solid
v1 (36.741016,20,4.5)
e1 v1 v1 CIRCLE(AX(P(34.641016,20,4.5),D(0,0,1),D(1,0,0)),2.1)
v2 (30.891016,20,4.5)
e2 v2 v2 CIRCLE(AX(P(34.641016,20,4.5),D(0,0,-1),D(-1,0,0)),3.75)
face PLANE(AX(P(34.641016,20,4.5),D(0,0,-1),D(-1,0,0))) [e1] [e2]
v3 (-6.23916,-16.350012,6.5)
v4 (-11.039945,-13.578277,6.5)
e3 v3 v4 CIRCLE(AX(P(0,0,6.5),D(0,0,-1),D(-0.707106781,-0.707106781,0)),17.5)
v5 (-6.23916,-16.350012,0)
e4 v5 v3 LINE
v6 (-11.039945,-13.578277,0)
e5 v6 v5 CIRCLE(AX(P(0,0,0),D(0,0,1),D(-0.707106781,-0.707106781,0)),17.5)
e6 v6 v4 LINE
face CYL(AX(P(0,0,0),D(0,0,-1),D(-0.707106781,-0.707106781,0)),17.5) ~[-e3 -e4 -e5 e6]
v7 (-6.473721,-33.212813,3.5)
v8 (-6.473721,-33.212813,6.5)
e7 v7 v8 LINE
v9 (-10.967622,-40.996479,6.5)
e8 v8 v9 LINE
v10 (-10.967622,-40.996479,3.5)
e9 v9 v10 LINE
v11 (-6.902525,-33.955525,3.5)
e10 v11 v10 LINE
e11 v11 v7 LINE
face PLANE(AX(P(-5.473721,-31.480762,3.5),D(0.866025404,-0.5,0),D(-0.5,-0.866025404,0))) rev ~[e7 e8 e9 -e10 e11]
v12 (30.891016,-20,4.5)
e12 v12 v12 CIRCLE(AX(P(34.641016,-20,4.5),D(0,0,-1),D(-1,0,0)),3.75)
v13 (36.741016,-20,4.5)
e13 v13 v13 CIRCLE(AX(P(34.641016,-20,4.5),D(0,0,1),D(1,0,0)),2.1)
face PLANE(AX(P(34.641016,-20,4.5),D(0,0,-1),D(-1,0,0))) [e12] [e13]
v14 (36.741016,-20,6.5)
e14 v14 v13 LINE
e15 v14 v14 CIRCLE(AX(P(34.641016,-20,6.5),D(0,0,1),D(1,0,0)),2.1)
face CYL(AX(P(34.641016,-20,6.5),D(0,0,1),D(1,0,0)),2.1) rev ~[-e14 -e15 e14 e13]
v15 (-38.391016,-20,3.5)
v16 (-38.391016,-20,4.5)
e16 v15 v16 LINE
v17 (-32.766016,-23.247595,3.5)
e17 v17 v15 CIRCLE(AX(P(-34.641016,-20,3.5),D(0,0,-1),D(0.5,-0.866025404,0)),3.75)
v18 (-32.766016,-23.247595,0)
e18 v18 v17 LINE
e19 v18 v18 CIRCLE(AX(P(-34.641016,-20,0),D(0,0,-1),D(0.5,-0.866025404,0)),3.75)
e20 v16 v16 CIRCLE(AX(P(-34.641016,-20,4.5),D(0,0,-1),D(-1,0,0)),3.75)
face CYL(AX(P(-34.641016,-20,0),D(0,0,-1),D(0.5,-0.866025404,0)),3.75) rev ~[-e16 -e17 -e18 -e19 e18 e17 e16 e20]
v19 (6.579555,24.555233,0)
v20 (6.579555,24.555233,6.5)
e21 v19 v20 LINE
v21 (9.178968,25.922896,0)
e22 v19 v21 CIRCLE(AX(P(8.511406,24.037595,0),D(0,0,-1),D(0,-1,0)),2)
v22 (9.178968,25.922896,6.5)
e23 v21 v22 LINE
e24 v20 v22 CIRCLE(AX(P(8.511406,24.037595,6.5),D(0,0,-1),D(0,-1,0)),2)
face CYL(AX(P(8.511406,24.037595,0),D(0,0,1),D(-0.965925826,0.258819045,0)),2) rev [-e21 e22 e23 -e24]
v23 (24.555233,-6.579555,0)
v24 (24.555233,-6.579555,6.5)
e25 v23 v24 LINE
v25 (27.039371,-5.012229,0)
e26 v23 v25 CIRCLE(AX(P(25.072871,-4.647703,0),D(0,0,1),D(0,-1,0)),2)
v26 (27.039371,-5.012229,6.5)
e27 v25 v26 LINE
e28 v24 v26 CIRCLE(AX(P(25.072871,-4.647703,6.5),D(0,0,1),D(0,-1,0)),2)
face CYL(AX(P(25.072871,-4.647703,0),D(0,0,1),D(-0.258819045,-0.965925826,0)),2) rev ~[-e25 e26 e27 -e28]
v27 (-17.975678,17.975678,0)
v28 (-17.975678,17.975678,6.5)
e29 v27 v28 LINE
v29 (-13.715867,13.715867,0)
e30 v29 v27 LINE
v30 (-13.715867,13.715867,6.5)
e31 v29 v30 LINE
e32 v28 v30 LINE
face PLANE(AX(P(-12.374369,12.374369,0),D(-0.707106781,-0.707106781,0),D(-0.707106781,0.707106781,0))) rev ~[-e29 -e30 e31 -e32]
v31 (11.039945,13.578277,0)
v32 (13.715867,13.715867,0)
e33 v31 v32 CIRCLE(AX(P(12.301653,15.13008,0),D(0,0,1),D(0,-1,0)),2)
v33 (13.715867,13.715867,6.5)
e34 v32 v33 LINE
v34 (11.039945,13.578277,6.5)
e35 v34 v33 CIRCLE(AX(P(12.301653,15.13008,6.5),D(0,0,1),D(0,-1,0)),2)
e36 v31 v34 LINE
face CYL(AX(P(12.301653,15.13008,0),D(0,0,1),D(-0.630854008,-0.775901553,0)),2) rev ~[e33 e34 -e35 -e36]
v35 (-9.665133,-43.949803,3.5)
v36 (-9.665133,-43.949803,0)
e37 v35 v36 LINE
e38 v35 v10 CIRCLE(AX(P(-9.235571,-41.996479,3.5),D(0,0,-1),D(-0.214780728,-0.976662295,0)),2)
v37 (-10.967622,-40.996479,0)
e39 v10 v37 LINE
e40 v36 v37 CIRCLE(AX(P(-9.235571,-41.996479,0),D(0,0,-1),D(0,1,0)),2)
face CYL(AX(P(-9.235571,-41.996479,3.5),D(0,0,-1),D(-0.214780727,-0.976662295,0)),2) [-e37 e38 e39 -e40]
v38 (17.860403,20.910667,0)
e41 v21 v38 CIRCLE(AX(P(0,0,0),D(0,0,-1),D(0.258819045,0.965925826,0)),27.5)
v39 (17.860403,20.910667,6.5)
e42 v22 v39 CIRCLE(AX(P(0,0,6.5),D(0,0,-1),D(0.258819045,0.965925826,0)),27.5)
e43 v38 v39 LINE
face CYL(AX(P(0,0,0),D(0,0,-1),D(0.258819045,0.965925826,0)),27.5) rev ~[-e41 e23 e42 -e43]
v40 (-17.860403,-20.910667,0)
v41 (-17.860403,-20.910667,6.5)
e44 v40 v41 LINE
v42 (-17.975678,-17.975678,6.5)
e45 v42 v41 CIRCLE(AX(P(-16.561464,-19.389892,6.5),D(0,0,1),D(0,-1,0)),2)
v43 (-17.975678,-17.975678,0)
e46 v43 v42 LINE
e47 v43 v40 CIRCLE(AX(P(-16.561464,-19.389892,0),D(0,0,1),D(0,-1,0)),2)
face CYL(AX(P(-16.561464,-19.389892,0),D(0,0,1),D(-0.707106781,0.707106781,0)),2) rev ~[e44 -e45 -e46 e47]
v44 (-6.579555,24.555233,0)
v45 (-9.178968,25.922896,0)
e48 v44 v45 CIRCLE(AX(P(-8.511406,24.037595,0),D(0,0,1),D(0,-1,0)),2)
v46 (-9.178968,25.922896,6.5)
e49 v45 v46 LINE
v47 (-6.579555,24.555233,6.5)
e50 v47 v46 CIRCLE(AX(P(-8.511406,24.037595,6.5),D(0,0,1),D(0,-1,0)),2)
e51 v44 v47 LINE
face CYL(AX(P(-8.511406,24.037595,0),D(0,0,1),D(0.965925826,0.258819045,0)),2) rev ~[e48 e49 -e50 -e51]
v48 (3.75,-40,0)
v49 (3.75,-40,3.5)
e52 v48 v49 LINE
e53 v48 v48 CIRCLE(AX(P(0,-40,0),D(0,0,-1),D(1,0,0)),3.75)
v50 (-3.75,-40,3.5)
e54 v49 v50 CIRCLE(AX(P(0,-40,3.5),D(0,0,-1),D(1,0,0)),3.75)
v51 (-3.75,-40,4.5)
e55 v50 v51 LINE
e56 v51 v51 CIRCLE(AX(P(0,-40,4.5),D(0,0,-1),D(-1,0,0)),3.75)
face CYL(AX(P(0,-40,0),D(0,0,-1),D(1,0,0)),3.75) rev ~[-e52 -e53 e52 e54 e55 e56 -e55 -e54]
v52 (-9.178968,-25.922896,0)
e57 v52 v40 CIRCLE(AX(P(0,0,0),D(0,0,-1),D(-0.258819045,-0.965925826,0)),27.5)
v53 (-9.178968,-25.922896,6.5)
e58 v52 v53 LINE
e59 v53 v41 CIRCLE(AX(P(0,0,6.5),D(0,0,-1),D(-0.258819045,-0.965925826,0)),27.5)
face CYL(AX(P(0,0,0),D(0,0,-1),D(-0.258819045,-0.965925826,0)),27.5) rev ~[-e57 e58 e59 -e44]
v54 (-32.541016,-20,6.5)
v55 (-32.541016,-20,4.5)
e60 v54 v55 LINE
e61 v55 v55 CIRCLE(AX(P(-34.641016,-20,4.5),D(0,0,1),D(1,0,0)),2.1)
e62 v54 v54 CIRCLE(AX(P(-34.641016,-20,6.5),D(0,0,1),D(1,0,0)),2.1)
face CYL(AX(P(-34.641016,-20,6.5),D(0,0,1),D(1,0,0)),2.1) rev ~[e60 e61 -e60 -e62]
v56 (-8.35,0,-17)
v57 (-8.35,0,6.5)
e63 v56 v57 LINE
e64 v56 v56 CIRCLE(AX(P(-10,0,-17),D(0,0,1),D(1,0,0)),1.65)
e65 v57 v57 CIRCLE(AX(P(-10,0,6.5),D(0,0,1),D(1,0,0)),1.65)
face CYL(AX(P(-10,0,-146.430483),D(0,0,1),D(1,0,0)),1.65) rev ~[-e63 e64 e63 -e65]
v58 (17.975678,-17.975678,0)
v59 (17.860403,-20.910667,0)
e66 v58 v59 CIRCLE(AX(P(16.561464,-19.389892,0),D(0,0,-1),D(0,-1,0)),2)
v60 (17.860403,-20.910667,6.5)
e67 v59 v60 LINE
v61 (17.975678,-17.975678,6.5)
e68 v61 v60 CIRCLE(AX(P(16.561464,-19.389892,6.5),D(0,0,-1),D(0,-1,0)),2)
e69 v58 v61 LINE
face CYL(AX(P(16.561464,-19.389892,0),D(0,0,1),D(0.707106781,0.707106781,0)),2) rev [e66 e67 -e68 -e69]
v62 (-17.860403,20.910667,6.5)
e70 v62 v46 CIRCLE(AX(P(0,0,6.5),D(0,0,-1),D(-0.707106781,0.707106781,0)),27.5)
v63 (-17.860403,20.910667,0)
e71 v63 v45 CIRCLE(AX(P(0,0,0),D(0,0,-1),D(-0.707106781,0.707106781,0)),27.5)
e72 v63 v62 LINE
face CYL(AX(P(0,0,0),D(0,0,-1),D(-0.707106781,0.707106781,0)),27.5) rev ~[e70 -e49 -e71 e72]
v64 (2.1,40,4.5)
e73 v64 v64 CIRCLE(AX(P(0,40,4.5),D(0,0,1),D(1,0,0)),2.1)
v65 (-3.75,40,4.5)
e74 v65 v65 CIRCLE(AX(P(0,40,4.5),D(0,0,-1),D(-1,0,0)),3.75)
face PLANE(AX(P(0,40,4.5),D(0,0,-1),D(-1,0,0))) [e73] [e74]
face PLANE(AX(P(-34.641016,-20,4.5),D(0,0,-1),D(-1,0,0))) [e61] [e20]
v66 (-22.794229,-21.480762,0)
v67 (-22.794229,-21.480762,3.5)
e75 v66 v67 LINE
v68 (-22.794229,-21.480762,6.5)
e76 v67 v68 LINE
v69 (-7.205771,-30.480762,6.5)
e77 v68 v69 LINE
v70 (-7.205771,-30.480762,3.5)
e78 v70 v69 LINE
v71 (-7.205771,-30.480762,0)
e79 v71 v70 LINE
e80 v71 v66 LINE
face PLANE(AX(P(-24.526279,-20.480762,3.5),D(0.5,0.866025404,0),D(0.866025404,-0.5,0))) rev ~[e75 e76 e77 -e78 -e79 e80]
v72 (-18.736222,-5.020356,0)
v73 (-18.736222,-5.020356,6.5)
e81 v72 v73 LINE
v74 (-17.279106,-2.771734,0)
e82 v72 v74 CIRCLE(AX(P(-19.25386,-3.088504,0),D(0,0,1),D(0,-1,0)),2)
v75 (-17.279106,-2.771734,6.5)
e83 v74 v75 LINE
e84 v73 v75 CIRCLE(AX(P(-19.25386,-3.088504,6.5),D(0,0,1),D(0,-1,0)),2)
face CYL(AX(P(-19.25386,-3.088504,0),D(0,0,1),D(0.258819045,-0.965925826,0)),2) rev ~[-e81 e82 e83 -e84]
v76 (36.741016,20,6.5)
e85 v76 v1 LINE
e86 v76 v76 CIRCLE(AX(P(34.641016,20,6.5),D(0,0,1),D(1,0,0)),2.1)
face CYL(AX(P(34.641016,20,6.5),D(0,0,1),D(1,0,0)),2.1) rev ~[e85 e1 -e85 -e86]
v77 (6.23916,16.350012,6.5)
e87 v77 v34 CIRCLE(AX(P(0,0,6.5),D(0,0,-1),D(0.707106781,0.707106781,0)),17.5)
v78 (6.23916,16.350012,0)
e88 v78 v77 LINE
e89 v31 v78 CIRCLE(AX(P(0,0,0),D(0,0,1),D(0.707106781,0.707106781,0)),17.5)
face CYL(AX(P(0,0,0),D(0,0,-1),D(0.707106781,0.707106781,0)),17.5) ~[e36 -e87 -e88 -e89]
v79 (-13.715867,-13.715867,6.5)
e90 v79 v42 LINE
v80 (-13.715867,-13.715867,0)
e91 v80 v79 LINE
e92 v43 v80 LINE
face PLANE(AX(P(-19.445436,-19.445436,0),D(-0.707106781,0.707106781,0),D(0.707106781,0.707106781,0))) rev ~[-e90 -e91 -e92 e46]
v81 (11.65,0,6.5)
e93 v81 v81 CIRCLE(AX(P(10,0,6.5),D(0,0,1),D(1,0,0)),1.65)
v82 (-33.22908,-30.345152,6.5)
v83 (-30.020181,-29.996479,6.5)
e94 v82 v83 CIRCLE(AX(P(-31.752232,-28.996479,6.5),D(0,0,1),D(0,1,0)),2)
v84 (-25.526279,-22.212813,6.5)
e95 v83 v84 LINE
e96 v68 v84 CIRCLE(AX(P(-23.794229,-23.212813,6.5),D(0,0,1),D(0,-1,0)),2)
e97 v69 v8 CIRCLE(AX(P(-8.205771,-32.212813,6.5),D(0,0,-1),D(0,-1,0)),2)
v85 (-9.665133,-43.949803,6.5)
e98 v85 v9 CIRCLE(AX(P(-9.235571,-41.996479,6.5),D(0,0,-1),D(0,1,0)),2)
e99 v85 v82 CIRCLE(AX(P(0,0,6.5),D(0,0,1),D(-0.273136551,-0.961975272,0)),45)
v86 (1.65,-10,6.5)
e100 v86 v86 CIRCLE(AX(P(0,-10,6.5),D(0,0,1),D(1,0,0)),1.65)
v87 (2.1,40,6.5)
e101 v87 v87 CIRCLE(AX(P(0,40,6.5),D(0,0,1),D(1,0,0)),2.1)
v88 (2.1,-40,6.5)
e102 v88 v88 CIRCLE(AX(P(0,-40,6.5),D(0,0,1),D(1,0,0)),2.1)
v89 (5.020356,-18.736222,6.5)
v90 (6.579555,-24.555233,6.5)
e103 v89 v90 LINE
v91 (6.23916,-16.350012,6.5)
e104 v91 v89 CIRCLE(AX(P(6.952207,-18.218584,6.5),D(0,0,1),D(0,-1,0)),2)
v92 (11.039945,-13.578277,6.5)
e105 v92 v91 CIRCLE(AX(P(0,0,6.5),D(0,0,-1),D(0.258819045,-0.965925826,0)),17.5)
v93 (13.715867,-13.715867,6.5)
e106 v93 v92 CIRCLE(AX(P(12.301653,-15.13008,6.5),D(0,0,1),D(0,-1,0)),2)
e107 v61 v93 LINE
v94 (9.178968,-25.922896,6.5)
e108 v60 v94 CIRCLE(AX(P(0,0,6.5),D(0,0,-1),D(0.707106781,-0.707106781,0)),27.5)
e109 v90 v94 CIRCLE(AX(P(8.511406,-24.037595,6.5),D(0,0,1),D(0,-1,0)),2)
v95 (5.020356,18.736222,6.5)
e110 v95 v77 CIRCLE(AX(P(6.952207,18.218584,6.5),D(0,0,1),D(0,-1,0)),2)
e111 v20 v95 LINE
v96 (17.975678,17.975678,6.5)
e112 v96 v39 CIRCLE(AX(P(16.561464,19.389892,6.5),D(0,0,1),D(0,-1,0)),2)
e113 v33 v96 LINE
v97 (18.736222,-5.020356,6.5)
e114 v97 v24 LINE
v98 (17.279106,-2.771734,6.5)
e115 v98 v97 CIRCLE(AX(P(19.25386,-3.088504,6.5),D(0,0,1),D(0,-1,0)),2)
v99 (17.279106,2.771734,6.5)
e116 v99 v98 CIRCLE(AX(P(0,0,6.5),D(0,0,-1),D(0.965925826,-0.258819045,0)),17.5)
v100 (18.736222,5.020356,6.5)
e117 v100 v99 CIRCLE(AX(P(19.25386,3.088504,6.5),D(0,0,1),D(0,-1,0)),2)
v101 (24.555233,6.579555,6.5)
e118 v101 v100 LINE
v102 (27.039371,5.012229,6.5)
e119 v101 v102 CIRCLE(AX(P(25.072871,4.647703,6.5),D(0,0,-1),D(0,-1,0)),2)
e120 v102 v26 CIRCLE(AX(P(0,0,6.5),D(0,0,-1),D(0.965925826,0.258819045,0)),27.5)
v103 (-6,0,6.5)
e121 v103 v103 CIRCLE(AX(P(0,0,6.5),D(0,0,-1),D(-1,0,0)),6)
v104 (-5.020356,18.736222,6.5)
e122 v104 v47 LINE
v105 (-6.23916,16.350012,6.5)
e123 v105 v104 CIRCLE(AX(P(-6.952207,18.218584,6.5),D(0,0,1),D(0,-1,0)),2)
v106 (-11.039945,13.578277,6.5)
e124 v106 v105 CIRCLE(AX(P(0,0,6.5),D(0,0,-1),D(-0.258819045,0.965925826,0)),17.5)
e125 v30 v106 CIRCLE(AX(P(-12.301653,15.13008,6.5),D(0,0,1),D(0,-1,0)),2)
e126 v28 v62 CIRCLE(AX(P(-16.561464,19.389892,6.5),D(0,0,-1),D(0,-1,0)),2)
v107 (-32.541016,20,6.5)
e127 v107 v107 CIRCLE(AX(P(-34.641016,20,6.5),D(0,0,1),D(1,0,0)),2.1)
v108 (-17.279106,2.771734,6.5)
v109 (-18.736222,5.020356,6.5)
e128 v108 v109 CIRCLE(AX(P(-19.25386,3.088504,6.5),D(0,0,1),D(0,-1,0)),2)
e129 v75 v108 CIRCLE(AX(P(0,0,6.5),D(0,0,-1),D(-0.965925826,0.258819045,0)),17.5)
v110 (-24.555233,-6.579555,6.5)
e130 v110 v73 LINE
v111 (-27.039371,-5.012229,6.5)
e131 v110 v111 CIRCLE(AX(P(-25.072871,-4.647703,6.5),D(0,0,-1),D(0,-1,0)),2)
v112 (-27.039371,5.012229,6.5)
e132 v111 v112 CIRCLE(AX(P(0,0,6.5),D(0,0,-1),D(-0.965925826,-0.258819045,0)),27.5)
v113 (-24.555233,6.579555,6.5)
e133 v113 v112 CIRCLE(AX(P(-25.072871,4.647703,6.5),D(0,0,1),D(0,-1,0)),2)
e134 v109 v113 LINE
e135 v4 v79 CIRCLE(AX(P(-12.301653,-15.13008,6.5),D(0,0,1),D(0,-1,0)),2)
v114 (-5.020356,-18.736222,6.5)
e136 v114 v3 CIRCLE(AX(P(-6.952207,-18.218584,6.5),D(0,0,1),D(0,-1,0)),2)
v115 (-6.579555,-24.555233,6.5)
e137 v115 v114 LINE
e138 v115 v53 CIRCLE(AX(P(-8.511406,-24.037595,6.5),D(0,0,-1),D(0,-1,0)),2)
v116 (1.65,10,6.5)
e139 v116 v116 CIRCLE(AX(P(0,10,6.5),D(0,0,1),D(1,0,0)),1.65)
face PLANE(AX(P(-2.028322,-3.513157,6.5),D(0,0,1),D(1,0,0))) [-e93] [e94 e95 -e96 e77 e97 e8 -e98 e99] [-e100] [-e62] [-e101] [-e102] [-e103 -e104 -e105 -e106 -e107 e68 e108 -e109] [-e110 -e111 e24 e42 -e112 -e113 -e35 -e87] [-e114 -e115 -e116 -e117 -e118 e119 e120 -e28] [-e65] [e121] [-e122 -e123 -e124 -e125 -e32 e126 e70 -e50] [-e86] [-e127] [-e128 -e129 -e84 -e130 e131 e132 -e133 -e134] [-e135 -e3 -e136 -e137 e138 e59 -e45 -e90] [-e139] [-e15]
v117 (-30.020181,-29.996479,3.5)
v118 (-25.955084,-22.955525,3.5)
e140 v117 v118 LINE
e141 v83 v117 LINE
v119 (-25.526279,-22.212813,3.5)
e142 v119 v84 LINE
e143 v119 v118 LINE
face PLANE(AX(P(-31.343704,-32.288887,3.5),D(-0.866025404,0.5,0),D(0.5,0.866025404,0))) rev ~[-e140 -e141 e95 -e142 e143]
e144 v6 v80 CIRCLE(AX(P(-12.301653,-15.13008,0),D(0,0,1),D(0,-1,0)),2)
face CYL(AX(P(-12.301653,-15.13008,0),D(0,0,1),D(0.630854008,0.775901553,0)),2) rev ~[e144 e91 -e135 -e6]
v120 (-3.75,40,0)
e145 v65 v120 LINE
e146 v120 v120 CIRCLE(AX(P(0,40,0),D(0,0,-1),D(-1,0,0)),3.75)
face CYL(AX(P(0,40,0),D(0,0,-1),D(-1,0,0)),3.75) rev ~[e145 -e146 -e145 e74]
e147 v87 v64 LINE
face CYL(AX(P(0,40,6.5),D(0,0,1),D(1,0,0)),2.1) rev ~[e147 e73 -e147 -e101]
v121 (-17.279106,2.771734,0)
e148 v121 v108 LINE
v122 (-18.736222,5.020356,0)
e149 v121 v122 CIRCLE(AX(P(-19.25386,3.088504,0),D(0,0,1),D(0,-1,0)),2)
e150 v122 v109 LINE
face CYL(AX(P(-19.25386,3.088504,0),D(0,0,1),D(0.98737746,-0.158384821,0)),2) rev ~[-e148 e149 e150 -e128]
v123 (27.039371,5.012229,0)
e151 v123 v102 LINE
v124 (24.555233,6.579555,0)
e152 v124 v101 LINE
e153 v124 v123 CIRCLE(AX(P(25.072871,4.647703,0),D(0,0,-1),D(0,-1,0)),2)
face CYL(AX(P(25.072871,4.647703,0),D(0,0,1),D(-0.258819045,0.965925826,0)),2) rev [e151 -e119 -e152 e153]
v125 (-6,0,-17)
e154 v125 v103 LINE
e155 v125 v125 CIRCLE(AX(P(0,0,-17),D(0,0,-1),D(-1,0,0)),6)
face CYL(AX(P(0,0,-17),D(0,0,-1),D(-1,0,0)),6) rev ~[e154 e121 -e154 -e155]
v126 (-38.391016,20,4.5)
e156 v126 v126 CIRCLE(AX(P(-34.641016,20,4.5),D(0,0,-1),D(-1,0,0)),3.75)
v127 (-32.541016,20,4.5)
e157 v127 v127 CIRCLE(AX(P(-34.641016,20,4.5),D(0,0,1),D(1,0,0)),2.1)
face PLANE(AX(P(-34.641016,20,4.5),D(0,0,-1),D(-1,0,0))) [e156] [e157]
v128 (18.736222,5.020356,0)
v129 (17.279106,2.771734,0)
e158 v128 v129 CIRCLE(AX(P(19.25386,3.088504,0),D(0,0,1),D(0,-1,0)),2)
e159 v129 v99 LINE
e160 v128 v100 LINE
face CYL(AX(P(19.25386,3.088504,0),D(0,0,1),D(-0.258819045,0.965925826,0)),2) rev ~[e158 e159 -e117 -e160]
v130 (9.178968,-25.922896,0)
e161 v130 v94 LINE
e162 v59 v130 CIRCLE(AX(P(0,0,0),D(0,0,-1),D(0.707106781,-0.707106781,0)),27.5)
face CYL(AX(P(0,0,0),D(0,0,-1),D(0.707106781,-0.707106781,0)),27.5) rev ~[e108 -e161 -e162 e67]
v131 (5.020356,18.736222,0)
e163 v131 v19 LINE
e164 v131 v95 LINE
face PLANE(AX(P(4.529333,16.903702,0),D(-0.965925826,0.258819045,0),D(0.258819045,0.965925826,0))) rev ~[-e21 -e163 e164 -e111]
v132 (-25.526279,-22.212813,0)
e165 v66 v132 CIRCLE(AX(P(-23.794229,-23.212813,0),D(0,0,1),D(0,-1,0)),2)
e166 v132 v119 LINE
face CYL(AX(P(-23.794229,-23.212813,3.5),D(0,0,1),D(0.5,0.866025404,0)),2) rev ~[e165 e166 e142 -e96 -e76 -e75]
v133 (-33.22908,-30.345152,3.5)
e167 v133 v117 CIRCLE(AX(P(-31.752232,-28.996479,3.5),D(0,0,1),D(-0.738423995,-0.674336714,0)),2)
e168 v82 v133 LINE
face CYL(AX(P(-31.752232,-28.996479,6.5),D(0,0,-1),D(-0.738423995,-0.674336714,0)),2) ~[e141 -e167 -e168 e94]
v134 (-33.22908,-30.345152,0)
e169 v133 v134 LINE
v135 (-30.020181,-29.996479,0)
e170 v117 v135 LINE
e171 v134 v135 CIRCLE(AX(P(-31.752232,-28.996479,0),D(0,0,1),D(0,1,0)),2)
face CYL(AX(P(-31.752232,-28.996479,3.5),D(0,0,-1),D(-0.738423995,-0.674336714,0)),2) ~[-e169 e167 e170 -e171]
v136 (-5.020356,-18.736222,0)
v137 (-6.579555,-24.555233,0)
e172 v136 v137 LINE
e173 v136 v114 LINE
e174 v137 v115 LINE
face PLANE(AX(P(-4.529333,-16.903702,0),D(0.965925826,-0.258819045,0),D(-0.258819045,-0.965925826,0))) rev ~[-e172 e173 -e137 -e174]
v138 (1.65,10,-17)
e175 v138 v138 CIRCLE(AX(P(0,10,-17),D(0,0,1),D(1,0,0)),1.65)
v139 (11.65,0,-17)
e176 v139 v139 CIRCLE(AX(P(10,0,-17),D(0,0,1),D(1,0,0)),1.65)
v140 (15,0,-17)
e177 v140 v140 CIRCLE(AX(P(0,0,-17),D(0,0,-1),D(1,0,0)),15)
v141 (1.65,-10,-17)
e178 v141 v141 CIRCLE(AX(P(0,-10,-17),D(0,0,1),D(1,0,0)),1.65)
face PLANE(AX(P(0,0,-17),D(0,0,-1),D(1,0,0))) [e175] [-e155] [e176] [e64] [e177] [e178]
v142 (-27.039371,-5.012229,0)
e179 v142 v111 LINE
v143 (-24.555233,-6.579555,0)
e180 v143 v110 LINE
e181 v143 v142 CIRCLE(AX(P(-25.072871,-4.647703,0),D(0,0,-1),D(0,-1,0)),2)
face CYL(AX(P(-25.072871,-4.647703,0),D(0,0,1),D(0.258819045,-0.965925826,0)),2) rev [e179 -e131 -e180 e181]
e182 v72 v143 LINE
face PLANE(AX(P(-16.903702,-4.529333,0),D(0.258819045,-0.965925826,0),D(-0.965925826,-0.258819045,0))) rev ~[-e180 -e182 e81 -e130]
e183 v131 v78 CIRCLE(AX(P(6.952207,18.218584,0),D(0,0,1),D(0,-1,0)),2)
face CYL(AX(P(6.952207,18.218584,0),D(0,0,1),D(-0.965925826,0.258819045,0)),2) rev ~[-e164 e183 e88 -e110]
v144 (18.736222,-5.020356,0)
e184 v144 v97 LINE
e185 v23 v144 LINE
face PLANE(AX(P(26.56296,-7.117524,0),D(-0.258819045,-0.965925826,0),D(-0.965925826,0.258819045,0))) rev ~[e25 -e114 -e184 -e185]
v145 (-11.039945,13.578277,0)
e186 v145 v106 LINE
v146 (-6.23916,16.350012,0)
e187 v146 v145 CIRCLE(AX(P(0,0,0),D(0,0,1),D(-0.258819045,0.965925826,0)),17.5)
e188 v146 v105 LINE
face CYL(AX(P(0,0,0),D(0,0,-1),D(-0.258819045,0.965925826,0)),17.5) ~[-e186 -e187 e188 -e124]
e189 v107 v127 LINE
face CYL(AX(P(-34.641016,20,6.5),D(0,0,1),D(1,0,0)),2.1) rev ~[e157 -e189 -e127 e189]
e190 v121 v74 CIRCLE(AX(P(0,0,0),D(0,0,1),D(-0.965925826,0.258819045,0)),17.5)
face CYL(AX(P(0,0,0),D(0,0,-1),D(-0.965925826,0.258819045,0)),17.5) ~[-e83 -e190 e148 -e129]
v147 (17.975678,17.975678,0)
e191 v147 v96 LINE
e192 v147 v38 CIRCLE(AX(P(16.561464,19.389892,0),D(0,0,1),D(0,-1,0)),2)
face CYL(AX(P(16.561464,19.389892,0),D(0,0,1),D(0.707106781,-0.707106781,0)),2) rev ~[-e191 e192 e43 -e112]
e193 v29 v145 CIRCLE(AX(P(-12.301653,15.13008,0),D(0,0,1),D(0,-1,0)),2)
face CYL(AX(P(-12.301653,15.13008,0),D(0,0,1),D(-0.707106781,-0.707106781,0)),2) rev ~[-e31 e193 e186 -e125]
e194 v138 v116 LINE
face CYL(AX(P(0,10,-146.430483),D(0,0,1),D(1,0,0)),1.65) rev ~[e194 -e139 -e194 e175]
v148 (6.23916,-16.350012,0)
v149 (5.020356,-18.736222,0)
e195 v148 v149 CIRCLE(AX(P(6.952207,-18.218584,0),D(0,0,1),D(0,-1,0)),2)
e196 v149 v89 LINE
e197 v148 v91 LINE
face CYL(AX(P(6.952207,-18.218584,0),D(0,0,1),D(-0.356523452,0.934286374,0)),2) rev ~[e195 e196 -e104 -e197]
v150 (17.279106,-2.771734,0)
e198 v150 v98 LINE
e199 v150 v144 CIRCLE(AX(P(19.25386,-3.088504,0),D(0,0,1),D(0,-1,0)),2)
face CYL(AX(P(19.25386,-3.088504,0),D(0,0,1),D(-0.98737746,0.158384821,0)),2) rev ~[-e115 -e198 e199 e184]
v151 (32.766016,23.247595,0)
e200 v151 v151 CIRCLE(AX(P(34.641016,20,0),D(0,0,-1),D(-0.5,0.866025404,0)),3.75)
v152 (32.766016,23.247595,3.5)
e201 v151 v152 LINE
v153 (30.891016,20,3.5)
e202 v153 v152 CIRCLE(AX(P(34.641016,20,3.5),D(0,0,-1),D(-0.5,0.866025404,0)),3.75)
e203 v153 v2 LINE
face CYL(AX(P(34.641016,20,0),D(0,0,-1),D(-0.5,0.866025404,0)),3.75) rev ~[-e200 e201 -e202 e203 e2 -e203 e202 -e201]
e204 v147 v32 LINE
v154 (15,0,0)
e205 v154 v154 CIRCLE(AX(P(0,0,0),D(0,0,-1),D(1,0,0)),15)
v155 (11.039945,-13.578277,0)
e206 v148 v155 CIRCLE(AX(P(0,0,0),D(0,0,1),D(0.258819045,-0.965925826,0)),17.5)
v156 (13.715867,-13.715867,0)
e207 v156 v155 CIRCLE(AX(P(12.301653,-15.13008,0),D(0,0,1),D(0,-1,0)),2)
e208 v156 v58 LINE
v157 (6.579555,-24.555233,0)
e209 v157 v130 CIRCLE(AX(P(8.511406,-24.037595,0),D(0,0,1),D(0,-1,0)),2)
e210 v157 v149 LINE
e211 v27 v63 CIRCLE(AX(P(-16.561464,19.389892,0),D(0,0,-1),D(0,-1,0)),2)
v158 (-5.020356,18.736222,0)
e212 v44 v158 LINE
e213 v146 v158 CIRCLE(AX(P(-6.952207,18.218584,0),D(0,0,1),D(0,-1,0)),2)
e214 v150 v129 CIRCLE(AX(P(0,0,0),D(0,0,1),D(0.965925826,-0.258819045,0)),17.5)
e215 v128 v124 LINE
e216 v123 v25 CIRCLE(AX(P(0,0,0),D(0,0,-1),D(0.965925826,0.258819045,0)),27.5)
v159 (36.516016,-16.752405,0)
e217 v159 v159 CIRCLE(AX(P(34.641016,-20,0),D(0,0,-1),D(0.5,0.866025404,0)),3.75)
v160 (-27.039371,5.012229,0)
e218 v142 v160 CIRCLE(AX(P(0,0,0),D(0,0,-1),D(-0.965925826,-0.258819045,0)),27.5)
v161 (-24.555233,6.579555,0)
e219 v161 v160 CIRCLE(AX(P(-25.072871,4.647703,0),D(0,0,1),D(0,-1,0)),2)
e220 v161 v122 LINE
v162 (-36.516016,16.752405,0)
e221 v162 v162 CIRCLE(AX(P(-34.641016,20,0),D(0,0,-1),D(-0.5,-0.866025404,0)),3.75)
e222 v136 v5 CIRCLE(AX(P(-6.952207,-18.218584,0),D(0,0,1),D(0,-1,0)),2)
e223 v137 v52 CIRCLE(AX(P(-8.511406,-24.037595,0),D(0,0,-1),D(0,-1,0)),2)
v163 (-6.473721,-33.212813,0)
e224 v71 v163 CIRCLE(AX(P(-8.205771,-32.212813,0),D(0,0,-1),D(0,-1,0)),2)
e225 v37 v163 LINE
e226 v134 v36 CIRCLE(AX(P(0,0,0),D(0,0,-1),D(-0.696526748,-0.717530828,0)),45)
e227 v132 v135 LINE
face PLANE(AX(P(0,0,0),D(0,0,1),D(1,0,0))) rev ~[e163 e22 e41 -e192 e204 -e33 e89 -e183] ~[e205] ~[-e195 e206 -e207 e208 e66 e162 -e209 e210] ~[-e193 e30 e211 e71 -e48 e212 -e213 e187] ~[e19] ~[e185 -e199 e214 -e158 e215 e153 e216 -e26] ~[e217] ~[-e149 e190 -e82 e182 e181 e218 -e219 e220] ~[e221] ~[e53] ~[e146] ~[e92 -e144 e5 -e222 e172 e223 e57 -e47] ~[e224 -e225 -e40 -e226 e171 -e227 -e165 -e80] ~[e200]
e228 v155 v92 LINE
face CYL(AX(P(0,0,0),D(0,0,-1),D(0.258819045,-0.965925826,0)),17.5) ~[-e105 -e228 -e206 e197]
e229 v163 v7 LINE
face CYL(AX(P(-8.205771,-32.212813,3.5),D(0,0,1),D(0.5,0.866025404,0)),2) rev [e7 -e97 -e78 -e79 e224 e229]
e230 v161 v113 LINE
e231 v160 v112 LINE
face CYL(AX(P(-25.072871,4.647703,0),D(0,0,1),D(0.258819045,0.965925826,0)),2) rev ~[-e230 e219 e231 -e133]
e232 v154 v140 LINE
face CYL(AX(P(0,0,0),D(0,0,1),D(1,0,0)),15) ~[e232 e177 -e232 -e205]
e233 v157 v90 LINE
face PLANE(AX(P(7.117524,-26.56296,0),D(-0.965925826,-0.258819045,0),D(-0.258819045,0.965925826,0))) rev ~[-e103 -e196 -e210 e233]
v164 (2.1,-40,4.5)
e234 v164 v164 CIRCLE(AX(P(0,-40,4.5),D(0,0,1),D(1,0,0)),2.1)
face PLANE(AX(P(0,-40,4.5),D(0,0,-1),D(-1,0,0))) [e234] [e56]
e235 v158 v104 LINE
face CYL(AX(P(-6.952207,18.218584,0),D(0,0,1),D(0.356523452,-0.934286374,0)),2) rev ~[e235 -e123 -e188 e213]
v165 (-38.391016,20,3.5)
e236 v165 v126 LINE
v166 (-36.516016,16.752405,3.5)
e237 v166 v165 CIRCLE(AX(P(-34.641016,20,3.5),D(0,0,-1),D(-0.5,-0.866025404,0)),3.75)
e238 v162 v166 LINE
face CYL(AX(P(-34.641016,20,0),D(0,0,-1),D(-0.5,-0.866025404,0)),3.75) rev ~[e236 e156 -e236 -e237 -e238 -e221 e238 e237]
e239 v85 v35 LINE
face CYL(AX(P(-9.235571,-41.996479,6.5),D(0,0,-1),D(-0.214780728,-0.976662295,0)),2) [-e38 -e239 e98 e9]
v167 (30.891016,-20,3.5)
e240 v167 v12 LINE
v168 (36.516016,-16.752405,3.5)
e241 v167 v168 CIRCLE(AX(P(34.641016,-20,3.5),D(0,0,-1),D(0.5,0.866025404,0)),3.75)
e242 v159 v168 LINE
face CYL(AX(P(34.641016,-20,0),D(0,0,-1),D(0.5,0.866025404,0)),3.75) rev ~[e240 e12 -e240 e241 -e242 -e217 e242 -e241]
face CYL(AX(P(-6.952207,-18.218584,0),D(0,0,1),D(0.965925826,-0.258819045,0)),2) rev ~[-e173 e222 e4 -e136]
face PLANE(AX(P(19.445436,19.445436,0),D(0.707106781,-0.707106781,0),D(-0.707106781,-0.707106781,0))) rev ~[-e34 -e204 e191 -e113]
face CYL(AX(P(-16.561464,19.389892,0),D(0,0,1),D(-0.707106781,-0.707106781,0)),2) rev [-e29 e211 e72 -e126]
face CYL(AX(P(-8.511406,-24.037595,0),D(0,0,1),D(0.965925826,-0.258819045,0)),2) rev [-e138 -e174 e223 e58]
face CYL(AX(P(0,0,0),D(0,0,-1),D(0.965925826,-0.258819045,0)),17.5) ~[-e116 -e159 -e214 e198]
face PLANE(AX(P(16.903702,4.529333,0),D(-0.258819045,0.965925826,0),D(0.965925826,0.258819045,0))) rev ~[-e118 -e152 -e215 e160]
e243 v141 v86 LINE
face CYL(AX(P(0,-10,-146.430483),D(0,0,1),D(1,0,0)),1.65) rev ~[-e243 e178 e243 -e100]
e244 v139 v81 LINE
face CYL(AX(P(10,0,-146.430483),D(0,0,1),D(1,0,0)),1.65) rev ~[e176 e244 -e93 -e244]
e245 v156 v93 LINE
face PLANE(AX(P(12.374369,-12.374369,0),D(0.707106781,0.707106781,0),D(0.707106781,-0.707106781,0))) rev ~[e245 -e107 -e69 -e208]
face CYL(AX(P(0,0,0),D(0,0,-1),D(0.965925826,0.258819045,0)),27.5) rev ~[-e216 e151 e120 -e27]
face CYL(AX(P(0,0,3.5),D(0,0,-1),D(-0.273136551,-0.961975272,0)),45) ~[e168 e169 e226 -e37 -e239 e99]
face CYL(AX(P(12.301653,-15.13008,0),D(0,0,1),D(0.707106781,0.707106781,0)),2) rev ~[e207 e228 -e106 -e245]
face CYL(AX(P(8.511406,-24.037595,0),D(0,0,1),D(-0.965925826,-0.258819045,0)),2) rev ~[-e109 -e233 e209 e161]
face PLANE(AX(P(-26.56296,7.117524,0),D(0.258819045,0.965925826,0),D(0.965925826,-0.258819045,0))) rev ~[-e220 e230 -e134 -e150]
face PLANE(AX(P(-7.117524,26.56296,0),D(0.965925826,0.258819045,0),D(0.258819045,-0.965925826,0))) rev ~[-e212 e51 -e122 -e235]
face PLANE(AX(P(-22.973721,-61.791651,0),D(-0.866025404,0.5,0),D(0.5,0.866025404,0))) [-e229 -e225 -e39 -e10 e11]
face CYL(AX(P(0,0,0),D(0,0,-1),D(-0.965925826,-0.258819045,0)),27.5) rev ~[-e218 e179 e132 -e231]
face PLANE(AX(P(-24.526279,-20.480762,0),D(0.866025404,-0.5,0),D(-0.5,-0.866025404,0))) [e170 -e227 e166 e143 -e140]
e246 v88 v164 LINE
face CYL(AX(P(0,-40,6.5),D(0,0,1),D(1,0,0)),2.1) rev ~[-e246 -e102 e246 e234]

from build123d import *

# Parameters (mm, degrees)
SKETCH_1_R               = 45
EXTRUDE_1_DEPTH          = 6
SKETCH_2_R               = 34.65
SKETCH_2_R_2             = 2
CUT_EXTRUDE_1_DEPTH      = 64.921827258
EXTRUDE_START            = -3.5
SKETCH_4_R               = 34.65
EXTRUDE_3_DEPTH          = 3.5
SKETCH_5_R               = 15
EXTRUDE_4_DEPTH          = 17
SKETCH_6_R               = 3.75
CUT_EXTRUDE_2_DEPTH      = 4
PATTERN_CIRCULAR_1_COUNT = 6
CUT_EXTRUDE_4_DEPTH      = 66.871086221
CUT_EXTRUDE_5_DEPTH      = 2.5
EXTRUDE_6_DEPTH          = 3
SKETCH_13_R              = 2.1
CUT_EXTRUDE_6_DEPTH      = 5
SKETCH_14_R              = 3.75
CUT_EXTRUDE_7_DEPTH      = 1
HOLE_WIZARD_M4_1_D       = 3.3
FILLET_1_R               = 2
CUT_EXTRUDE_8_DEPTH      = 10
FILLET_2_R               = 2
SKETCH_21_R              = 6
CUT_EXTRUDE_9_DEPTH      = 68


with BuildPart() as part:
    # 草图1 → 凸台-拉伸1 (new body)
    with BuildSketch(Plane.XY):
        Circle(SKETCH_1_R)
    extrude(amount=EXTRUDE_1_DEPTH)

    # 草图2 → 切除-拉伸1 (cut, through all)
    with BuildSketch(Plane.XY.offset(6)):
        Circle(SKETCH_2_R)
        with Locations((0, 40)):
            Circle(SKETCH_2_R_2)
        with Locations((34.641016151, 20)):
            Circle(SKETCH_2_R_2)
        with Locations((34.641016151, -20)):
            Circle(SKETCH_2_R_2)
        with Locations((0, -40)):
            Circle(SKETCH_2_R_2)
        with Locations((-34.641016151, -20)):
            Circle(SKETCH_2_R_2)
        with Locations((-34.641016151, 20)):
            Circle(SKETCH_2_R_2)
    extrude(amount=-CUT_EXTRUDE_1_DEPTH, mode=Mode.SUBTRACT)

    # 草图4 → 凸台-拉伸3 (add)
    with BuildSketch(Plane(origin=(0, 0, 0), x_dir=(-1, 0, 0), z_dir=(0, 0, -1)).offset(EXTRUDE_START)):
        with Locations(Location((0, 0, 0), (0, 0, 180))):
            Circle(SKETCH_4_R)
    extrude(amount=EXTRUDE_3_DEPTH)

    # 草图5 → 凸台-拉伸4 (add)
    with BuildSketch(Plane(origin=(0, 0, 0), x_dir=(-1, 0, 0), z_dir=(0, 0, -1))):
        with Locations(Location((0, 0, 0), (0, 0, 180))):
            Circle(SKETCH_5_R)
    extrude(amount=EXTRUDE_4_DEPTH)

    # 草图6 → 切除-拉伸2 (cut)
    with BuildSketch(Plane(origin=(0, 0, 0), x_dir=(-1, 0, 0), z_dir=(0, 0, -1))):
        with Locations((0, 40)):
            Circle(SKETCH_6_R)
    cut_extrude_2 = extrude(amount=-CUT_EXTRUDE_2_DEPTH, mode=Mode.SUBTRACT)

    # 阵列(圆周)1: 切除-拉伸2 ×6 about axis
    pattern_circular_1_axis = Axis((0, 0, 0), (0, 0, 1))
    for i in range(1, PATTERN_CIRCULAR_1_COUNT):
        add(cut_extrude_2.rotate(pattern_circular_1_axis, i * 360 / PATTERN_CIRCULAR_1_COUNT), mode=Mode.SUBTRACT)

    # 草图9 → 切除-拉伸4 (cut, through all)
    with BuildSketch(Plane(origin=(0, 0, 0), x_dir=(-1, 0, 0), z_dir=(0, 0, -1))):
        Polygon((24.526279442, -20.480762114), (42.026279442, -50.791651246), (22.973720558, -61.791651246), (5.473720558, -31.480762114), align=None)
    extrude(amount=-CUT_EXTRUDE_4_DEPTH, mode=Mode.SUBTRACT)

    # 草图11 → 切除-拉伸5 (cut)
    with BuildSketch(Plane.XY.offset(6)):
        with BuildLine():
            Line((-31.343703671, -32.288887255), (-25.955084176, -22.955524508))
            ThreePointArc((-25.955084176, -22.955524508), (17.325, 30.007780241), (-6.902525293, -33.955524508))
            Line((-6.902525293, -33.955524508), (-12.291144788, -43.288887255))
            ThreePointArc((-12.291144788, -43.288887255), (22.5, 38.97114317), (-31.343703671, -32.288887255))
        make_face()
    extrude(amount=-CUT_EXTRUDE_5_DEPTH, mode=Mode.SUBTRACT)

    # 草图12 → 凸台-拉伸6 (add)
    with BuildSketch(Plane.XY.offset(3.5)):
        with BuildLine():
            Line((-5.473720558, -31.480762114), (-12.291144788, -43.288887255))
            ThreePointArc((-12.291144788, -43.288887255), (22.5, 38.97114317), (-31.343703671, -32.288887255))
            Line((-31.343703671, -32.288887255), (-24.526279442, -20.480762114))
            Line((-24.526279442, -20.480762114), (-5.473720558, -31.480762114))
        make_face()
    extrude(amount=EXTRUDE_6_DEPTH)

    # 草图13 → 切除-拉伸6 (cut)
    with BuildSketch(Plane.XY.offset(6.5)):
        with Locations((0, 40)):
            Circle(SKETCH_13_R)
        with Locations((34.641016151, 20)):
            Circle(SKETCH_13_R)
        with Locations((34.641016151, -20)):
            Circle(SKETCH_13_R)
        with Locations((0, -40)):
            Circle(SKETCH_13_R)
        with Locations((-34.641016151, -20)):
            Circle(SKETCH_13_R)
        with Locations((-34.641016151, 20)):
            Circle(SKETCH_13_R)
    extrude(amount=-CUT_EXTRUDE_6_DEPTH, mode=Mode.SUBTRACT)

    # 草图14 → 切除-拉伸7 (cut)
    with BuildSketch(Plane(origin=(0, 0, 3.5), x_dir=(-1, 0, 0), z_dir=(0, 0, -1))):
        with Locations((0, 40)):
            Circle(SKETCH_14_R)
        with Locations((-34.641016151, 20)):
            Circle(SKETCH_14_R)
        with Locations((34.641016151, 20)):
            Circle(SKETCH_14_R)
        with Locations((34.641016151, -20)):
            Circle(SKETCH_14_R)
        with Locations((0, -40)):
            Circle(SKETCH_14_R)
        with Locations((-34.641016151, -20)):
            Circle(SKETCH_14_R)
    extrude(amount=-CUT_EXTRUDE_7_DEPTH, mode=Mode.SUBTRACT)

    # M4 螺纹孔1 (through all)
    with Locations(Plane(origin=(0, 10, -17), x_dir=(-1, 0, 0), z_dir=(0, 0, -1))):
        with Locations((0, 0), (10, -10), (0, -20), (-10, -10)):
            Hole(HOLE_WIZARD_M4_1_D / 2)

    # 圆角1
    fillet_1_edges = [part.edges().sort_by_distance(p)[0] for p in [
        (-12.291144788, -43.288887255, 3.25),
        (-5.473720558, -31.480762114, 3.25),
        (-31.343703671, -32.288887255, 3.25),
        (-24.526279442, -20.480762114, 3.25),
    ]]
    fillet(fillet_1_edges, radius=FILLET_1_R)

    # 草图20 → 切除-拉伸8 (cut)
    with BuildSketch(Plane(origin=(0, 0, 0), x_dir=(-1, 0, 0), z_dir=(0, 0, -1))):
        with BuildLine():
            Line((-4.529333289, 16.90370196), (-7.11752374, 26.562960223))
            ThreePointArc((-7.11752374, 26.562960223), (-13.75, 23.815698604), (-19.445436483, 19.445436483))
            Line((-19.445436483, 19.445436483), (-12.374368671, 12.374368671))
            ThreePointArc((-12.374368671, 12.374368671), (-8.75, 15.155444566), (-4.529333289, 16.90370196))
        make_face()
        with BuildLine():
            Line((12.374368671, 12.374368671), (19.445436483, 19.445436483))
            ThreePointArc((19.445436483, 19.445436483), (13.75, 23.815698604), (7.11752374, 26.562960223))
            Line((7.11752374, 26.562960223), (4.529333289, 16.90370196))
            ThreePointArc((4.529333289, 16.90370196), (8.75, 15.155444566), (12.374368671, 12.374368671))
        make_face()
        with BuildLine():
            Line((16.90370196, -4.529333289), (26.562960223, -7.11752374))
            ThreePointArc((26.562960223, -7.11752374), (27.5, 0), (26.562960223, 7.11752374))
            Line((26.562960223, 7.11752374), (16.90370196, 4.529333289))
            ThreePointArc((16.90370196, 4.529333289), (17.5, 0), (16.90370196, -4.529333289))
        make_face()
        with BuildLine():
            Line((4.529333289, -16.90370196), (7.11752374, -26.562960223))
            ThreePointArc((7.11752374, -26.562960223), (13.75, -23.815698604), (19.445436483, -19.445436483))
            Line((19.445436483, -19.445436483), (12.374368671, -12.374368671))
            ThreePointArc((12.374368671, -12.374368671), (8.75, -15.155444566), (4.529333289, -16.90370196))
        make_face()
        with BuildLine():
            Line((-12.374368671, -12.374368671), (-19.445436483, -19.445436483))
            ThreePointArc((-19.445436483, -19.445436483), (-13.75, -23.815698604), (-7.11752374, -26.562960223))
            Line((-7.11752374, -26.562960223), (-4.529333289, -16.90370196))
            ThreePointArc((-4.529333289, -16.90370196), (-8.75, -15.155444566), (-12.374368671, -12.374368671))
        make_face()
        with BuildLine():
            Line((-16.90370196, 4.529333289), (-26.562960223, 7.11752374))
            ThreePointArc((-26.562960223, 7.11752374), (-27.5, 0), (-26.562960223, -7.11752374))
            Line((-26.562960223, -7.11752374), (-16.90370196, -4.529333289))
            ThreePointArc((-16.90370196, -4.529333289), (-17.5, 0), (-16.90370196, 4.529333289))
        make_face()
    extrude(amount=-CUT_EXTRUDE_8_DEPTH, mode=Mode.SUBTRACT)

    # 圆角2
    fillet_2_edges = [part.edges().sort_by_distance(p)[0] for p in [
        (-12.374368671, 12.374368671, 3.25),
        (-4.529333289, 16.90370196, 3.25),
        (-7.11752374, 26.562960223, 3.25),
        (-19.445436483, 19.445436483, 3.25),
        (-16.90370196, -4.529333289, 3.25),
        (-16.90370196, 4.529333289, 3.25),
        (-26.562960223, 7.11752374, 3.25),
        (-26.562960223, -7.11752374, 3.25),
        (-4.529333289, -16.90370196, 3.25),
        (-12.374368671, -12.374368671, 3.25),
        (-19.445436483, -19.445436483, 3.25),
        (-7.11752374, -26.562960223, 3.25),
        (12.374368671, -12.374368671, 3.25),
        (4.529333289, -16.90370196, 3.25),
        (7.11752374, -26.562960223, 3.25),
        (19.445436483, -19.445436483, 3.25),
        (16.90370196, 4.529333289, 3.25),
        (16.90370196, -4.529333289, 3.25),
        (26.562960223, -7.11752374, 3.25),
        (26.562960223, 7.11752374, 3.25),
        (4.529333289, 16.90370196, 3.25),
        (12.374368671, 12.374368671, 3.25),
        (19.445436483, 19.445436483, 3.25),
        (7.11752374, 26.562960223, 3.25),
    ]]
    fillet(fillet_2_edges, radius=FILLET_2_R)

    # 草图21 → 切除-拉伸9 (cut)
    with BuildSketch(Plane(origin=(0, 0, -17), x_dir=(-1, 0, 0), z_dir=(0, 0, -1))):
        Circle(SKETCH_21_R)
    extrude(amount=-CUT_EXTRUDE_9_DEPTH, mode=Mode.SUBTRACT)


solid = part.part
